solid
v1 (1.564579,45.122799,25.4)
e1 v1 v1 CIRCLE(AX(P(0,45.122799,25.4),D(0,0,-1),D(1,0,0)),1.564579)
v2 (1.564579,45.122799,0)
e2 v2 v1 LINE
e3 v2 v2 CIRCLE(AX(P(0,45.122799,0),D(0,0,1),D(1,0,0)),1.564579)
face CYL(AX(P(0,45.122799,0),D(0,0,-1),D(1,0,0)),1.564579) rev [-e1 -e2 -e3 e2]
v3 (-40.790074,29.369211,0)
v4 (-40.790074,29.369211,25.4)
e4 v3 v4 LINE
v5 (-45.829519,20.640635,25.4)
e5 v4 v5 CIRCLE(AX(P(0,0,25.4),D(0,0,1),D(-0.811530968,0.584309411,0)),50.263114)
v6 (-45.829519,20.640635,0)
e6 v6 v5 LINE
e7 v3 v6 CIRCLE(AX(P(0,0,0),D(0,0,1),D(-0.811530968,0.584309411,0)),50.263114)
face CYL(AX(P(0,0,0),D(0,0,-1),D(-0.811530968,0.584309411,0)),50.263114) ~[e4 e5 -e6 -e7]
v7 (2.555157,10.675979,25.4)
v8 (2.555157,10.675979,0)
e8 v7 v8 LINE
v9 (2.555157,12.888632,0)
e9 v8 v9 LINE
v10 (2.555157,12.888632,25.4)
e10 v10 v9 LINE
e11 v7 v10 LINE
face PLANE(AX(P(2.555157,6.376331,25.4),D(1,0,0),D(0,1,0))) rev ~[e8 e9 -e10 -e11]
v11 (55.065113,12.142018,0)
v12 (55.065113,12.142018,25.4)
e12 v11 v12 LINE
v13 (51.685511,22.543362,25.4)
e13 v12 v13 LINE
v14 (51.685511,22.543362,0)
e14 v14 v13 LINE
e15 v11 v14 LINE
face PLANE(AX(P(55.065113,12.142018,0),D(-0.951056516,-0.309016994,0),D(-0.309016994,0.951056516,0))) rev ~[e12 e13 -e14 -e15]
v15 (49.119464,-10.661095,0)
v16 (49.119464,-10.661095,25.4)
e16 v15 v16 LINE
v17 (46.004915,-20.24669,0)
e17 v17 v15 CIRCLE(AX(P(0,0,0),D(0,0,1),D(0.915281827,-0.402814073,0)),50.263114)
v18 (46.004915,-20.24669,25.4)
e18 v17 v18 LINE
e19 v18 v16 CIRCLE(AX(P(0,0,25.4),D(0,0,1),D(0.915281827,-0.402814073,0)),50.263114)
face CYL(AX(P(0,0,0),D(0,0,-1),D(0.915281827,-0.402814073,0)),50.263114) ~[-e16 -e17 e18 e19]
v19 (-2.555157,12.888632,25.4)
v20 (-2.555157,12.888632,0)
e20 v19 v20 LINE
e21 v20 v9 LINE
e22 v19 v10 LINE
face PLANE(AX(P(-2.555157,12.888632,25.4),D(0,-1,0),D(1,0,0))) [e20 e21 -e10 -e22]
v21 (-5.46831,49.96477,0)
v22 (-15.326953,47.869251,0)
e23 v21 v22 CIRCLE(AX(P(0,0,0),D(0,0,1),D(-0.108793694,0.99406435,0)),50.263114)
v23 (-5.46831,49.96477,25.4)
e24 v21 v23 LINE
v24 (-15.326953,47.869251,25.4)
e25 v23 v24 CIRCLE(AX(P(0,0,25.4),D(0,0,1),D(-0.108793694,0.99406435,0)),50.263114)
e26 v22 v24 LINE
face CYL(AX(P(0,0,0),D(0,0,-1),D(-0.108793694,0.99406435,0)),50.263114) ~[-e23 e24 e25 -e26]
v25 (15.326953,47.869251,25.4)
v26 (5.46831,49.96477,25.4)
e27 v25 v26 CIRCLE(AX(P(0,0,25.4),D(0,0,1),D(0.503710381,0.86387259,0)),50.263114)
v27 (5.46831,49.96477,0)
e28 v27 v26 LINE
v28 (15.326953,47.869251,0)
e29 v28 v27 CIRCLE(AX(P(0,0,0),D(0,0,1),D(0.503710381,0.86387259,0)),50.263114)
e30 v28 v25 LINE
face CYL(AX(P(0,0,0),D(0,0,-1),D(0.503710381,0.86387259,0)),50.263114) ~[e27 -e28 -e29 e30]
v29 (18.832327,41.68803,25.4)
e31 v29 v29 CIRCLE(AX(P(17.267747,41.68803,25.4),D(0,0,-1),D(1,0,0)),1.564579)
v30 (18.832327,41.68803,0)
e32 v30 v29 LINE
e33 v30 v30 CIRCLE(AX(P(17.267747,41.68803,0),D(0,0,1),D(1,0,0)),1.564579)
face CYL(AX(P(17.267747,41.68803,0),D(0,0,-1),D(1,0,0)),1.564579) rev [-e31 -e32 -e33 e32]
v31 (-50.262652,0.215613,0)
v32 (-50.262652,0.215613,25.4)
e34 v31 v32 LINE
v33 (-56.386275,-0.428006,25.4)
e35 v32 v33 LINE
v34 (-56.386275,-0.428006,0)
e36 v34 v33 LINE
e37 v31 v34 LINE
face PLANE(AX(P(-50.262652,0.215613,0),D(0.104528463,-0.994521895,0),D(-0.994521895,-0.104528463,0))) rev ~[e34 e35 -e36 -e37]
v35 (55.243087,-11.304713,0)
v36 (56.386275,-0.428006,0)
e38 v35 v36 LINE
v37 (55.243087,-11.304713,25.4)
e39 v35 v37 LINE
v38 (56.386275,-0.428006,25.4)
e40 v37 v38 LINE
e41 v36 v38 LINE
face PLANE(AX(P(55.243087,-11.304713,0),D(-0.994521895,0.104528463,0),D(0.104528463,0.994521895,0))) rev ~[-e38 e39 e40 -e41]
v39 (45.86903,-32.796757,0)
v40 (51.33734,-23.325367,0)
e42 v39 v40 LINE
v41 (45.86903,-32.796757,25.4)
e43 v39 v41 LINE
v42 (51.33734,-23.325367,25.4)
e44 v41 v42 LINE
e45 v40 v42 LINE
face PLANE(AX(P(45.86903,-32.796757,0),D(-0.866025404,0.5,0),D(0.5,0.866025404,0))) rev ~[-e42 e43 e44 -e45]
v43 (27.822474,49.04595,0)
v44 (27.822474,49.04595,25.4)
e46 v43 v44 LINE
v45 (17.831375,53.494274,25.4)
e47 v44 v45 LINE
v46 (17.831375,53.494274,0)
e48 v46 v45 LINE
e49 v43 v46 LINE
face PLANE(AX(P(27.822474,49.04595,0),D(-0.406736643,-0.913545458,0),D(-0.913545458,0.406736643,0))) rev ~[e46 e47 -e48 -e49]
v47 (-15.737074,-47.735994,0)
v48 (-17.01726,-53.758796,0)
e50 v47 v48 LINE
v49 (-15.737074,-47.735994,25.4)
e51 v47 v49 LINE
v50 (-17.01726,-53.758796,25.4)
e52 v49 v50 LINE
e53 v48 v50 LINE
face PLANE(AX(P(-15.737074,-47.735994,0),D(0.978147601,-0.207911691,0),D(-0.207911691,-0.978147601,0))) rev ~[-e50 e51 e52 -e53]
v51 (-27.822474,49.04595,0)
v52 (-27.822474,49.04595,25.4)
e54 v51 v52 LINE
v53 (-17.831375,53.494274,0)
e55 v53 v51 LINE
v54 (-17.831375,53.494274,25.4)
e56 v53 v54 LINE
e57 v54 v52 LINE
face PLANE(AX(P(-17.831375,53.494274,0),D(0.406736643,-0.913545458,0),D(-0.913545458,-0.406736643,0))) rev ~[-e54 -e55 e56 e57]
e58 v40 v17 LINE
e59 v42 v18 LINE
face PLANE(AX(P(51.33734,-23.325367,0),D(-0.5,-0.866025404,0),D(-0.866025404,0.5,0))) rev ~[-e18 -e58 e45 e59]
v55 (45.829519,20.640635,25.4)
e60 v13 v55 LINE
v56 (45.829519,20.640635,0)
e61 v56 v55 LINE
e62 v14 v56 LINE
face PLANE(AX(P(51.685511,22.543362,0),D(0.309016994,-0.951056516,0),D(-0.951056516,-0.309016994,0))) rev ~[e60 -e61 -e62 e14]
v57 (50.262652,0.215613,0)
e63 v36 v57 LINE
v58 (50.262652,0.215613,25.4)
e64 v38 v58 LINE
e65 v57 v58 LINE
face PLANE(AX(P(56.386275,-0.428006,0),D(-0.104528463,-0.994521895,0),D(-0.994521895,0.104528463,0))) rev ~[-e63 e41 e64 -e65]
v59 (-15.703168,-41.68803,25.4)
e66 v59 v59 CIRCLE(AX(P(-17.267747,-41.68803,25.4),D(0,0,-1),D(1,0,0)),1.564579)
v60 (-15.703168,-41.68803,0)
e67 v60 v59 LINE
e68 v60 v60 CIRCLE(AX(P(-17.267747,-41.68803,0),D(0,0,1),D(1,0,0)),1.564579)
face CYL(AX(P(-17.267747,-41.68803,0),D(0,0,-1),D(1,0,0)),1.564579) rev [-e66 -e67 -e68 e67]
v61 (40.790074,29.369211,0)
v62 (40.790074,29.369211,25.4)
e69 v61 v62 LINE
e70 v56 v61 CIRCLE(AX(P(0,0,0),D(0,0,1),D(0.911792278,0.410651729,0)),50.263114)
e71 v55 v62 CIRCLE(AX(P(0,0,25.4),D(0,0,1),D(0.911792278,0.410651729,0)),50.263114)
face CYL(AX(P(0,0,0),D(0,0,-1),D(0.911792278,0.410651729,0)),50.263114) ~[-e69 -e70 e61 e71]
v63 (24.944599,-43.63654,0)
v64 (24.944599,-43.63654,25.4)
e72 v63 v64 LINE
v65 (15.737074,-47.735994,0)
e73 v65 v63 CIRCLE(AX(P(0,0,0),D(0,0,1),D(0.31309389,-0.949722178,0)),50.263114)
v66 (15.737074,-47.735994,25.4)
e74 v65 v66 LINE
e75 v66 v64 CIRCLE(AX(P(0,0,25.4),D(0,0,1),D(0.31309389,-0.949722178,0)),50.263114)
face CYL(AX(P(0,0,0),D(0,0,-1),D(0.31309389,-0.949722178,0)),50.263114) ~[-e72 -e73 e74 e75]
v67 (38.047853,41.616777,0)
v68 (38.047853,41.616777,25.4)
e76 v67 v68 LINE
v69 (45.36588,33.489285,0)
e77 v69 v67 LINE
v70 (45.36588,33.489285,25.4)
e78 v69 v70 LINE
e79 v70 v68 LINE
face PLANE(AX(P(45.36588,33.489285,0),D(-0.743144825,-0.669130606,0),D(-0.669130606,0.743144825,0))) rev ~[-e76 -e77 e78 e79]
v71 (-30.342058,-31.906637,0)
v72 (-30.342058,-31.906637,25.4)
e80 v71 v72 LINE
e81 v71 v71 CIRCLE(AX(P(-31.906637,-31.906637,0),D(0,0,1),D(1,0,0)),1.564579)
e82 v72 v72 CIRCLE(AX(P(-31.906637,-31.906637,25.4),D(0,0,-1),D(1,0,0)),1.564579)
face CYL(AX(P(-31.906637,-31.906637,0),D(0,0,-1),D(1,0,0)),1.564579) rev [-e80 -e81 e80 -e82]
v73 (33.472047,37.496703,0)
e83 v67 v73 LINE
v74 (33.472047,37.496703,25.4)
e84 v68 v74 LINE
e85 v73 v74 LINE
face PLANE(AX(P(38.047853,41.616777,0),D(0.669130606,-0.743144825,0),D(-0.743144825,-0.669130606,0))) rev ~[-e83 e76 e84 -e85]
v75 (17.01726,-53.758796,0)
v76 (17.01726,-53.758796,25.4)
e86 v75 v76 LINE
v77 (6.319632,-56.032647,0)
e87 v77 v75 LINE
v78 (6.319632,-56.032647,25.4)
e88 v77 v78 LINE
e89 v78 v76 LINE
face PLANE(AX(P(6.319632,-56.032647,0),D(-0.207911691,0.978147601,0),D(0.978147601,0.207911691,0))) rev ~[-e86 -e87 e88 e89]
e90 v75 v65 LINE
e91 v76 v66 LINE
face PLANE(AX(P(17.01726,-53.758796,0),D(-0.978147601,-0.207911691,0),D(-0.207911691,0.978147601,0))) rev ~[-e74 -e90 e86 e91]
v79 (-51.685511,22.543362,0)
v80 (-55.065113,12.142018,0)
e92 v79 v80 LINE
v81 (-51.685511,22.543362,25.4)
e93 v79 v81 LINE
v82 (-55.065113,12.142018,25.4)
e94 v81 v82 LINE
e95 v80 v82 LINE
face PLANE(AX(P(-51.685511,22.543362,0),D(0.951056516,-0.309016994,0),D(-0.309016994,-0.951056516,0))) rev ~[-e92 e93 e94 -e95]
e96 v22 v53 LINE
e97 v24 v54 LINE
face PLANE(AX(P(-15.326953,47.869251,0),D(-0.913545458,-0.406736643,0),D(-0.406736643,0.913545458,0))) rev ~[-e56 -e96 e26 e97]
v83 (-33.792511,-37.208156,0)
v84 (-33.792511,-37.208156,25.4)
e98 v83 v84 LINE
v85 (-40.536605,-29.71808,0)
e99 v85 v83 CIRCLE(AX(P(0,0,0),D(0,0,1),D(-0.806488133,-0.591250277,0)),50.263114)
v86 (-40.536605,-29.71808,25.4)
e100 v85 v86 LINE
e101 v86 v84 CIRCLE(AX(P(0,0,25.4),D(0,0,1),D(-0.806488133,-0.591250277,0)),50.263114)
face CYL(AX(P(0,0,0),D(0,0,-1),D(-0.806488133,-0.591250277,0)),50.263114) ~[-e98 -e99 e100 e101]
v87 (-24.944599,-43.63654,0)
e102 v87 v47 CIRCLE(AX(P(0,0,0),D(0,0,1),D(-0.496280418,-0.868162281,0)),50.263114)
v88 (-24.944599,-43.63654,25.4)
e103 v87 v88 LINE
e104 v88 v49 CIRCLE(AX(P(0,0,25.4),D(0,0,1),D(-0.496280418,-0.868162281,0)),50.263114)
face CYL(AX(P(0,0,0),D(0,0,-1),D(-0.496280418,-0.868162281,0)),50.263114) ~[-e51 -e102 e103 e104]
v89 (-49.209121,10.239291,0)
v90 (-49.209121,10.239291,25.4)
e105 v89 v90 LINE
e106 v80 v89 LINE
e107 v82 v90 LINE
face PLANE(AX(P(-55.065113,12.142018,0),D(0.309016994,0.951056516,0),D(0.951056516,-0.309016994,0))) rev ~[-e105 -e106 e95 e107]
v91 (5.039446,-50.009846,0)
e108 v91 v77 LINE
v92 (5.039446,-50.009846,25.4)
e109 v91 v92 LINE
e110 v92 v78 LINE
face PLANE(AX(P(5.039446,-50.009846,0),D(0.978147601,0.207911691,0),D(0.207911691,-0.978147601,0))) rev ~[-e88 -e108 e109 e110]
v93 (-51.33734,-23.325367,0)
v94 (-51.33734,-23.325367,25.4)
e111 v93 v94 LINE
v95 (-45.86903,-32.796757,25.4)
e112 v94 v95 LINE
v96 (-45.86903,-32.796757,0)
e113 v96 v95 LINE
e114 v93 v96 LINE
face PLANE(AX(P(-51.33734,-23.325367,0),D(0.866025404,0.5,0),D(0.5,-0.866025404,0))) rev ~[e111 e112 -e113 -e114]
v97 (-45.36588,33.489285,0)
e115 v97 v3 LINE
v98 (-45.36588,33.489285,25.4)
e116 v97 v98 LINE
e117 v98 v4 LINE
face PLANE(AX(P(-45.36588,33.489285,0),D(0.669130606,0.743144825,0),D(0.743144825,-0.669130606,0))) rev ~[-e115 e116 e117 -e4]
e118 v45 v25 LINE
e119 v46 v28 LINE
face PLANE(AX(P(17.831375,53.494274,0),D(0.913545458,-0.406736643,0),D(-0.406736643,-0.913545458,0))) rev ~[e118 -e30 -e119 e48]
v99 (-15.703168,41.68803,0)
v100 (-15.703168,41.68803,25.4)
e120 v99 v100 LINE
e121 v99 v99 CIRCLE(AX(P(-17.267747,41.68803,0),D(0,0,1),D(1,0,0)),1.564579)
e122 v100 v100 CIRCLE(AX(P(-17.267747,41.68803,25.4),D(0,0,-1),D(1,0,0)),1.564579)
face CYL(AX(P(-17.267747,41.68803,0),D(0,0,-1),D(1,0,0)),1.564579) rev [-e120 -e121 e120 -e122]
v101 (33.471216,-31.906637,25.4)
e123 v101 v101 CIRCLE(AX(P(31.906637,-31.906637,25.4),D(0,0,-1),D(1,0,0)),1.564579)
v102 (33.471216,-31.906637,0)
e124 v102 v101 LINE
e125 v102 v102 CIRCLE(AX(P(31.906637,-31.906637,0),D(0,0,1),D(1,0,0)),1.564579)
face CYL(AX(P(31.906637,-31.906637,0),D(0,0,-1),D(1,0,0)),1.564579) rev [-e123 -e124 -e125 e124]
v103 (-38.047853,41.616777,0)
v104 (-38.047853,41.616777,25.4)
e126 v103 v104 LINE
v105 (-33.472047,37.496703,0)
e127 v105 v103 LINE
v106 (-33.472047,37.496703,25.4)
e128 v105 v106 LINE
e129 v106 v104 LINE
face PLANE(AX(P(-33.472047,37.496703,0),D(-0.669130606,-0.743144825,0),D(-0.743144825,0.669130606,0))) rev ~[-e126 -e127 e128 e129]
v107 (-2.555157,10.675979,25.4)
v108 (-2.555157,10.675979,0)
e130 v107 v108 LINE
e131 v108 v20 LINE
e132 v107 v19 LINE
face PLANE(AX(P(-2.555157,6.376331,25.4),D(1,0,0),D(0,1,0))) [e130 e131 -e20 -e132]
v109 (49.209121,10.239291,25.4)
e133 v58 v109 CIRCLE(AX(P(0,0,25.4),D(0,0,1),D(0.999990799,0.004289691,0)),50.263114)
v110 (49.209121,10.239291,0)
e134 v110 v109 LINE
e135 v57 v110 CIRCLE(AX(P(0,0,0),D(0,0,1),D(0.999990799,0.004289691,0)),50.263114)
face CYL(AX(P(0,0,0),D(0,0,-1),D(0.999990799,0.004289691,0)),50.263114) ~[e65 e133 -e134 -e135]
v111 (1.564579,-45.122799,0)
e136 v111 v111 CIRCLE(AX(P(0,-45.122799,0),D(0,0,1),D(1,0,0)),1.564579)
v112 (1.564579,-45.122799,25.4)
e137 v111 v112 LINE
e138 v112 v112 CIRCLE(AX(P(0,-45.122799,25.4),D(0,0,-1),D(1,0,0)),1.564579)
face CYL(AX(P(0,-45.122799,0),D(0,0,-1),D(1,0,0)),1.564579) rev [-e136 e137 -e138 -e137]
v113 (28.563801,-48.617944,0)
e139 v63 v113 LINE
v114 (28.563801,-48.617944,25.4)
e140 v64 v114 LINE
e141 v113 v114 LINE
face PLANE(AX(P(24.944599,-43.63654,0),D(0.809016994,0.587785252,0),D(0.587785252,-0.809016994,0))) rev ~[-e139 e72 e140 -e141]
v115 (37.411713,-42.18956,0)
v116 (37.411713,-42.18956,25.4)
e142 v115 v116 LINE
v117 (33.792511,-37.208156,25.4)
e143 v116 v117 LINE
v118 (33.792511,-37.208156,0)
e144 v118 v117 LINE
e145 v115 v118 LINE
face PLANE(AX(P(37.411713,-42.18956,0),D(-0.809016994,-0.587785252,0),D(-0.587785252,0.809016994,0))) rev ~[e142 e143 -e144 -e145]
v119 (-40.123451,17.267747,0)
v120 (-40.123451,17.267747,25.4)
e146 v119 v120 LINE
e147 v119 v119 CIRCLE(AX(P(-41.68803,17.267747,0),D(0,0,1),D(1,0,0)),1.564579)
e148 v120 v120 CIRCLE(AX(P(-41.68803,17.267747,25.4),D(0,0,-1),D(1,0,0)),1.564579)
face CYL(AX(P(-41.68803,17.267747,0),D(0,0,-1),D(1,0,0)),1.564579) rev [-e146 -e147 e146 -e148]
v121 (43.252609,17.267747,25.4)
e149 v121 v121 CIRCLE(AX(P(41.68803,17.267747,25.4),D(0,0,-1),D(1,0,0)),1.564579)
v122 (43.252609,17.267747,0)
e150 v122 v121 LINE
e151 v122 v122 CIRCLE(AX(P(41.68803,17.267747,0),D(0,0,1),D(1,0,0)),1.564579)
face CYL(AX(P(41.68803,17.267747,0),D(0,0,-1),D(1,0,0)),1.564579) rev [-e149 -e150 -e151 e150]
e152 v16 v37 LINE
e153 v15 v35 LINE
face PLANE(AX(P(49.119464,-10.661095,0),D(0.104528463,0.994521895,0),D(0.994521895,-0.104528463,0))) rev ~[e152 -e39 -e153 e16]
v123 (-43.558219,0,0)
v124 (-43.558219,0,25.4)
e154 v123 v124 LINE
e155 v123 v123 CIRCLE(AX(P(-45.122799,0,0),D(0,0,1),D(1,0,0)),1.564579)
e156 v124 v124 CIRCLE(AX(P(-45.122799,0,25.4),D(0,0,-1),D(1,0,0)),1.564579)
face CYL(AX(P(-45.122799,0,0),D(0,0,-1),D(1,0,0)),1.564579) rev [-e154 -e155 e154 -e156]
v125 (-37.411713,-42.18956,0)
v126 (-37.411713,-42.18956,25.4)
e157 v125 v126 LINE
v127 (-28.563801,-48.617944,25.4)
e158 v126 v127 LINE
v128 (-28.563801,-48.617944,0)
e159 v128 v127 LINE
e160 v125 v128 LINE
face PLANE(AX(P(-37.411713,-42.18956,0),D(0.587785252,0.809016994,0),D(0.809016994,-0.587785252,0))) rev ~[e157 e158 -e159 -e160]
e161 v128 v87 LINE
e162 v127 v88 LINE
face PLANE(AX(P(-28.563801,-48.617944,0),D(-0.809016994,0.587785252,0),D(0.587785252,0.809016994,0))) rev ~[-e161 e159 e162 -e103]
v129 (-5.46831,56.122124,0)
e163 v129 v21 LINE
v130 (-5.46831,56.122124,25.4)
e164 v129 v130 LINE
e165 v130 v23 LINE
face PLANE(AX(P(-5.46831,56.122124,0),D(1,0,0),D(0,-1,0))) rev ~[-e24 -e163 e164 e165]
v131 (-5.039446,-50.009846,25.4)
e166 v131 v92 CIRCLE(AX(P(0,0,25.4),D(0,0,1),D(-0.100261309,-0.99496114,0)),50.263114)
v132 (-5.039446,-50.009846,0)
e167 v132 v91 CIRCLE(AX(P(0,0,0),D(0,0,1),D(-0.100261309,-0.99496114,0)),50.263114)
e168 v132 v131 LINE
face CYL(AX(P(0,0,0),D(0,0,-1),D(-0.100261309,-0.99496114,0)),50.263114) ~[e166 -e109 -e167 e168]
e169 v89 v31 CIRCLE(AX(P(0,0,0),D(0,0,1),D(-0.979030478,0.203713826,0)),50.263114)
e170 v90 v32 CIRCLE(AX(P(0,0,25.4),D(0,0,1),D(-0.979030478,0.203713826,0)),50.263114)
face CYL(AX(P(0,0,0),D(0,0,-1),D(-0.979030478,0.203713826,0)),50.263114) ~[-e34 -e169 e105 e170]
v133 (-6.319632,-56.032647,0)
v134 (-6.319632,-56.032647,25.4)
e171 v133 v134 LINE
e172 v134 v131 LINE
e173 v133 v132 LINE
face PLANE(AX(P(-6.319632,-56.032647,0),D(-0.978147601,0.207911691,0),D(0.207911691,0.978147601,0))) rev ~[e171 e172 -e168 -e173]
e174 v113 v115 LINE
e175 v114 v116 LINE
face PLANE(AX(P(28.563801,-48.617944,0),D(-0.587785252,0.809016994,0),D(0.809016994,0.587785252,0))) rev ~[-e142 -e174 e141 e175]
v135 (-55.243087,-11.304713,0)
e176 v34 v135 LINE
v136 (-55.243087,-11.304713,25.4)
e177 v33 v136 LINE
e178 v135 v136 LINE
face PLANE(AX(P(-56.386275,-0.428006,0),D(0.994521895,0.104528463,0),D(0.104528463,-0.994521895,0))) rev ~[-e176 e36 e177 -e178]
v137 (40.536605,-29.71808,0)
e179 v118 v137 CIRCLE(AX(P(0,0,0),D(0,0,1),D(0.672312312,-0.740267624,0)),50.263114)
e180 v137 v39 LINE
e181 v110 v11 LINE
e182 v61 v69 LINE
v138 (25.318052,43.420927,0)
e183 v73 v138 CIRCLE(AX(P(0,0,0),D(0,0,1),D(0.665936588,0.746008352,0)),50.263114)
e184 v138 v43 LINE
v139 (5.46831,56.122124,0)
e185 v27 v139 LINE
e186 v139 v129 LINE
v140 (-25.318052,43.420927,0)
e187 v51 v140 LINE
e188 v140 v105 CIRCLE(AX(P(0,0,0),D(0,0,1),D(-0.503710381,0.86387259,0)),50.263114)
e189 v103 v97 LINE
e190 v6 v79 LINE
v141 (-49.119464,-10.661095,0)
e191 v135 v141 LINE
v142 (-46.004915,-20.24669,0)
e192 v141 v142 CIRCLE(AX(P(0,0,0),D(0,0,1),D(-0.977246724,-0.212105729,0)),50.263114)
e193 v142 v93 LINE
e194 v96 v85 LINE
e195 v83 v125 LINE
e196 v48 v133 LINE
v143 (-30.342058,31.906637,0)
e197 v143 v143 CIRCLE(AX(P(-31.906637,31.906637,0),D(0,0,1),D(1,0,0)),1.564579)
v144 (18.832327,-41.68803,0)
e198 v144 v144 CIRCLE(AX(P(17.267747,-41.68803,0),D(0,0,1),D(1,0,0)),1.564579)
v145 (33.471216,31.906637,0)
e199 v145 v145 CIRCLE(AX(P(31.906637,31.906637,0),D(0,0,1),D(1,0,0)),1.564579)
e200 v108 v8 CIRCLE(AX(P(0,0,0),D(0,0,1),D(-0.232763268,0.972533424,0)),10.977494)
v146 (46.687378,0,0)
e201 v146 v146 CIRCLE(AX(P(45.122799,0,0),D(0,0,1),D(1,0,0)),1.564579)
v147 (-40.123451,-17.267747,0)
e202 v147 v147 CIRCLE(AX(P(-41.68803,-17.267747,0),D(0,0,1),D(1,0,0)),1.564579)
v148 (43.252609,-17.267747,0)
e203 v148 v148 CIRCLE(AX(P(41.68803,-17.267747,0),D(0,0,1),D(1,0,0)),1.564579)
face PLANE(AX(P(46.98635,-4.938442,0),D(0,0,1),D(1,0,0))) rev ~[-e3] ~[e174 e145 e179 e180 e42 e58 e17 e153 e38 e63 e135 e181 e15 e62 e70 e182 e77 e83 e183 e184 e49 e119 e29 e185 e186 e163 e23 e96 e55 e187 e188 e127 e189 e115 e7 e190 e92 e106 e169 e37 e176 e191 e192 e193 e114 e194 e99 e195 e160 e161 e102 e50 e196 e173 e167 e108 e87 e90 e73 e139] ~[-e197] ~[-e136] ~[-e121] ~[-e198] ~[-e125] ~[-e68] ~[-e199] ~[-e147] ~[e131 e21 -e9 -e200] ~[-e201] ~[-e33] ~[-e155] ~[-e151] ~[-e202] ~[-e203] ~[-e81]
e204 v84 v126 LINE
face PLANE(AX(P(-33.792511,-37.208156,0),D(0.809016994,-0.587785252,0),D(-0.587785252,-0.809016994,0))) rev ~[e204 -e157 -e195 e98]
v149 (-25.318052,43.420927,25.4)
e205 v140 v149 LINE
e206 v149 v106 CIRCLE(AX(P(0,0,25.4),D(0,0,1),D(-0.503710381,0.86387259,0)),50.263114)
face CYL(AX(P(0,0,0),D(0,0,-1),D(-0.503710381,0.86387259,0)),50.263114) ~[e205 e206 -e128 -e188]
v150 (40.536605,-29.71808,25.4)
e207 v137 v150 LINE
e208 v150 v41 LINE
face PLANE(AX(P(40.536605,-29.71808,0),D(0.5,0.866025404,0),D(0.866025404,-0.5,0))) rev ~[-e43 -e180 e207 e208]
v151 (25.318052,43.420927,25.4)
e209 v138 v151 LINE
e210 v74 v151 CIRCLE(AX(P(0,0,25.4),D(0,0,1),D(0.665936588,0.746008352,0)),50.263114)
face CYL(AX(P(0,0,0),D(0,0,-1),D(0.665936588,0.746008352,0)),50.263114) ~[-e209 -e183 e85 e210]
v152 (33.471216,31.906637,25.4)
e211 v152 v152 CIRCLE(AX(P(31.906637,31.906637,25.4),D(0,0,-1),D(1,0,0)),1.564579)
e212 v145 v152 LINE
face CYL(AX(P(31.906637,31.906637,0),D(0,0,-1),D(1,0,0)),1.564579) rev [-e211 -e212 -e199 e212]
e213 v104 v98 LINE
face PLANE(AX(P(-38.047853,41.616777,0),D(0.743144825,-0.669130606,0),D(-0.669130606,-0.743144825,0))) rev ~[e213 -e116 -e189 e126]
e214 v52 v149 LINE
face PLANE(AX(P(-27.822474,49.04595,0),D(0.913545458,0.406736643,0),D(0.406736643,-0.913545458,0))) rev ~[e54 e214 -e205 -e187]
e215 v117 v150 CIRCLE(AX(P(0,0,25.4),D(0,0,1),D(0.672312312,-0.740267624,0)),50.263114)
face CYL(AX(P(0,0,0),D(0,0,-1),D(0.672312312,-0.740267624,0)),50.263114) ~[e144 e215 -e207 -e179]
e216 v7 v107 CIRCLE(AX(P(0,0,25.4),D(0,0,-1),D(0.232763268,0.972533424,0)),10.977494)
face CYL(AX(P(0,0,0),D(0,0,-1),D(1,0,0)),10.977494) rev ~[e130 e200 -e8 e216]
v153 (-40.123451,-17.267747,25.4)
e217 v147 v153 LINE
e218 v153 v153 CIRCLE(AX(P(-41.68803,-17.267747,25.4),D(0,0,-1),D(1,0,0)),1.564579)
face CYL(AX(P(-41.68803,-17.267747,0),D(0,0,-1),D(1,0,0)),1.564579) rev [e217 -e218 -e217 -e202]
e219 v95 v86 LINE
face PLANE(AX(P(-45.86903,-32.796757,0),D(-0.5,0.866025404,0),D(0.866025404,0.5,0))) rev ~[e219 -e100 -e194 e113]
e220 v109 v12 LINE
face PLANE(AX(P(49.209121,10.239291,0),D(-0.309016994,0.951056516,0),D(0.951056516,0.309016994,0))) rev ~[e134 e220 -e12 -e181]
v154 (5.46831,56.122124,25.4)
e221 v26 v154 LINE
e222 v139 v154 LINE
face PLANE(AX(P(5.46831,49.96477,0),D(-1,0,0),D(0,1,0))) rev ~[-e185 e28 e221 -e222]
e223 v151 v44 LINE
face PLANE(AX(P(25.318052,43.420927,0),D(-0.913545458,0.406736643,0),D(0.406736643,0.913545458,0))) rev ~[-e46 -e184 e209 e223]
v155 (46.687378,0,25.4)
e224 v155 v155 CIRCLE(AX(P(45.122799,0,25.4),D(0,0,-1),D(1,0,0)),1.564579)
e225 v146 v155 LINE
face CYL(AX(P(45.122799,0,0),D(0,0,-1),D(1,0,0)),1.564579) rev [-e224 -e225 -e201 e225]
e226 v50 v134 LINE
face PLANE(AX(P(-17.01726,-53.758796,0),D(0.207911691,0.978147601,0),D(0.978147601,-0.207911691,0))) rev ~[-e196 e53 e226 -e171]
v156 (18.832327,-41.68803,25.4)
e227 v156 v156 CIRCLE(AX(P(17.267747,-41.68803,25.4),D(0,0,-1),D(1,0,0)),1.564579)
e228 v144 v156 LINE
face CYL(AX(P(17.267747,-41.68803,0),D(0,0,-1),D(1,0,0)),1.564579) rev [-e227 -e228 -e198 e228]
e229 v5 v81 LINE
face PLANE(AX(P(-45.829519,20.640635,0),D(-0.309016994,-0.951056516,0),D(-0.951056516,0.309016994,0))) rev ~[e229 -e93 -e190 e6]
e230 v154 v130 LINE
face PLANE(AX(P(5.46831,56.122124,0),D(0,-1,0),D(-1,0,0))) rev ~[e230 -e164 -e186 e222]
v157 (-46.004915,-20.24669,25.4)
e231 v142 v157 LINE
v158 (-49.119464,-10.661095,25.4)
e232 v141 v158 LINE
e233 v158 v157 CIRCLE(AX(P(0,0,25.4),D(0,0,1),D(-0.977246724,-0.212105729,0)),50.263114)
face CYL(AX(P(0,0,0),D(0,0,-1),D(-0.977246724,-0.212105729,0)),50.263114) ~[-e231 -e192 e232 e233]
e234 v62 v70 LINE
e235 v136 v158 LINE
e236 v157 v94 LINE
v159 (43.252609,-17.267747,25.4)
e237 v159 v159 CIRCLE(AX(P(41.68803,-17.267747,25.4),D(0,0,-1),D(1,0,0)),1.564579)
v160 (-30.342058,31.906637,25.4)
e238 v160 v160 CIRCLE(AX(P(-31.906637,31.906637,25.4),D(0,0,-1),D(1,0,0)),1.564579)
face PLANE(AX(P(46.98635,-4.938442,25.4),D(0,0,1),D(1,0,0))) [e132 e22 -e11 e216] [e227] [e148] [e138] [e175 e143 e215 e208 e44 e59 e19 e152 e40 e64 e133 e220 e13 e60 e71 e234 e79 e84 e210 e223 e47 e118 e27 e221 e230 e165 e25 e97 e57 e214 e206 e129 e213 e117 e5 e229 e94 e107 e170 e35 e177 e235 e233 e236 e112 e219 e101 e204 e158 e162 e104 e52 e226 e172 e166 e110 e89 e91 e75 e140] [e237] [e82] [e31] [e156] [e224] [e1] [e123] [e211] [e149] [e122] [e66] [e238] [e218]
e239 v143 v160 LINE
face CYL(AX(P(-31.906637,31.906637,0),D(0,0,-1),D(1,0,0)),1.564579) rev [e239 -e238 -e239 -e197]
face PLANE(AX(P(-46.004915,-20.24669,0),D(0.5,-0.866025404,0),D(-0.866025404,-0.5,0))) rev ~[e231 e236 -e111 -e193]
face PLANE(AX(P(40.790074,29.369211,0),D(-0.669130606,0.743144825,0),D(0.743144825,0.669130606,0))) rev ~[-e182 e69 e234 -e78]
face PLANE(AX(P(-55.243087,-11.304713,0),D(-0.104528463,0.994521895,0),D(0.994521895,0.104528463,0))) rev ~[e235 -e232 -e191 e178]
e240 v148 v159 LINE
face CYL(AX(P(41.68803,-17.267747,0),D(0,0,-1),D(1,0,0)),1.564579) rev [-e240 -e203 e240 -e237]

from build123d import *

# Parameters (mm, degrees)
F1_DEPTH = 25.4
F2_R     = 10.9774936207
F3_DEPTH = 49.53
F4_W     = 5.1103145815
F4_H     = 6.5123010427
F5_DEPTH = 48.514
F6_R     = 1.5645792589
F7_DEPTH = 173.3340956271


with BuildPart() as f1:
    # F0 (on Top) → F1 (new body)
    with BuildSketch(Plane.XY):
        with BuildLine():
            ThreePointArc((49.1194638074, -10.6610945165), (49.976383851, -5.3611303095), (50.2631143187, 0))
            ThreePointArc((50.2631143187, 0), (50.2629987037, 0.1078068731), (50.2626518594, 0.2156132503))
            Line((50.2626518594, 0.2156132503), (44.7324481381, 0.7968610833))
            Line((44.7324481381, 0.7968610833), (43.5892600861, -10.0798466835))
            Line((43.5892600861, -10.0798466835), (49.1194638074, -10.6610945165))
        make_face()
        with BuildLine():
            ThreePointArc((50.2626518594, 0.2156132503), (50.2629987037, 0.1078068731), (50.2631143187, 0))
            ThreePointArc((50.2631143187, 0), (49.976383851, -5.3611303095), (49.1194638074, -10.6610945165))
            Line((49.1194638074, -10.6610945165), (55.2430873006, -11.3047132808))
            Line((55.2430873006, -11.3047132808), (56.3862753526, -0.428005514))
            Line((56.3862753526, -0.428005514), (50.2626518594, 0.2156132503))
        make_face()
        with BuildLine():
            Line((44.7324481381, 0.7968610833), (50.2626518594, 0.2156132503))
            ThreePointArc((50.2626518594, 0.2156132503), (49.9877677193, 5.2539260988), (49.2091208382, 10.2392913496))
            Line((49.2091208382, 10.2392913496), (43.9206135564, 8.5209511701))
            Line((43.9206135564, 8.5209511701), (40.5410122038, 18.9222946152))
            Line((40.5410122038, 18.9222946152), (45.8295194856, 20.6406347948))
            ThreePointArc((45.8295194856, 20.6406347948), (43.5291338733, 25.1315571593), (40.7900738253, 29.3692107204))
            Line((40.7900738253, 29.3692107204), (36.6576939366, 25.648399156))
            Line((36.6576939366, 25.648399156), (29.3396669559, 33.7758915046))
            Line((29.3396669559, 33.7758915046), (33.4720468446, 37.496703069))
            ThreePointArc((33.4720468446, 37.496703069), (29.5439173308, 40.663713674), (25.3180524818, 43.4209267467))
            Line((25.3180524818, 43.4209267467), (23.0563260104, 38.3410059194))
            Line((23.0563260104, 38.3410059194), (13.0652267488, 42.7893299085))
            Line((13.0652267488, 42.7893299085), (15.3269532202, 47.8692507357))
            ThreePointArc((15.3269532202, 47.8692507357), (10.4502890838, 49.1647446762), (5.468309857, 49.9647700717))
            Line((5.468309857, 49.9647700717), (5.468309857, 44.4041044423))
            Line((5.468309857, 44.4041044423), (-5.468309857, 44.4041044423))
            Line((-5.468309857, 44.4041044423), (-5.468309857, 49.9647700717))
            ThreePointArc((-5.468309857, 49.9647700717), (-10.4502890838, 49.1647446762), (-15.3269532202, 47.8692507357))
            Line((-15.3269532202, 47.8692507357), (-13.0652267488, 42.7893299085))
            Line((-13.0652267488, 42.7893299085), (-23.0563260104, 38.3410059194))
            Line((-23.0563260104, 38.3410059194), (-25.3180524818, 43.4209267467))
            ThreePointArc((-25.3180524818, 43.4209267467), (-29.5439173308, 40.663713674), (-33.4720468446, 37.496703069))
            Line((-33.4720468446, 37.496703069), (-29.3396669559, 33.7758915046))
            Line((-29.3396669559, 33.7758915046), (-36.6576939366, 25.648399156))
            Line((-36.6576939366, 25.648399156), (-40.7900738253, 29.3692107204))
            ThreePointArc((-40.7900738253, 29.3692107204), (-43.5291338733, 25.1315571593), (-45.8295194856, 20.6406347948))
            Line((-45.8295194856, 20.6406347948), (-40.5410122038, 18.9222946152))
            Line((-40.5410122038, 18.9222946152), (-43.9206135564, 8.5209511701))
            Line((-43.9206135564, 8.5209511701), (-49.2091208382, 10.2392913496))
            ThreePointArc((-49.2091208382, 10.2392913496), (-49.9877677193, 5.2539260988), (-50.2626518594, 0.2156132503))
            Line((-50.2626518594, 0.2156132503), (-44.7324481381, 0.7968610833))
            Line((-44.7324481381, 0.7968610833), (-43.5892600861, -10.0798466835))
            Line((-43.5892600861, -10.0798466835), (-49.1194638074, -10.6610945165))
            ThreePointArc((-49.1194638074, -10.6610945165), (-47.8030624021, -15.5321565147), (-46.0049151049, -20.246689784))
            Line((-46.0049151049, -20.246689784), (-41.1892374078, -17.4663569693))
            Line((-41.1892374078, -17.4663569693), (-35.7209275508, -26.937747473))
            Line((-35.7209275508, -26.937747473), (-40.5366052479, -29.7180802878))
            ThreePointArc((-40.5366052479, -29.7180802878), (-37.3527733183, -33.6325881616), (-33.7925105871, -37.2081562192))
            Line((-33.7925105871, -37.2081562192), (-30.5240333372, -32.7094832249))
            Line((-30.5240333372, -32.7094832249), (-21.6761221277, -39.1378670027))
            Line((-21.6761221277, -39.1378670027), (-24.9445993776, -43.636539997))
            ThreePointArc((-24.9445993776, -43.636539997), (-20.4438503885, -45.9176397728), (-15.7370739936, -47.7359944186))
            Line((-15.7370739936, -47.7359944186), (-14.5809466005, -42.2968426747))
            Line((-14.5809466005, -42.2968426747), (-3.8833182672, -44.5706937712))
            Line((-3.8833182672, -44.5706937712), (-5.0394456603, -50.0098455152))
            ThreePointArc((-5.0394456603, -50.0098455152), (0, -50.2631143187), (5.0394456603, -50.0098455152))
            Line((5.0394456603, -50.0098455152), (3.8833182672, -44.5706937712))
            Line((3.8833182672, -44.5706937712), (14.5809466005, -42.2968426747))
            Line((14.5809466005, -42.2968426747), (15.7370739936, -47.7359944186))
            ThreePointArc((15.7370739936, -47.7359944186), (20.4438503885, -45.9176397728), (24.9445993776, -43.636539997))
            Line((24.9445993776, -43.636539997), (21.6761221277, -39.1378670027))
            Line((21.6761221277, -39.1378670027), (30.5240333372, -32.7094832249))
            Line((30.5240333372, -32.7094832249), (33.7925105871, -37.2081562192))
            ThreePointArc((33.7925105871, -37.2081562192), (37.3527733183, -33.6325881616), (40.5366052479, -29.7180802878))
            Line((40.5366052479, -29.7180802878), (35.7209275508, -26.937747473))
            Line((35.7209275508, -26.937747473), (41.1892374078, -17.4663569693))
            Line((41.1892374078, -17.4663569693), (46.0049151049, -20.246689784))
            ThreePointArc((46.0049151049, -20.246689784), (47.8030624021, -15.5321565147), (49.1194638074, -10.6610945165))
            Line((49.1194638074, -10.6610945165), (43.5892600861, -10.0798466835))
            Line((43.5892600861, -10.0798466835), (44.7324481381, 0.7968610833))
        make_face()
        with BuildLine():
            Line((43.9206135564, 8.5209511701), (49.2091208382, 10.2392913496))
            ThreePointArc((49.2091208382, 10.2392913496), (47.8030624021, 15.5321565147), (45.8295194856, 20.6406347948))
            Line((45.8295194856, 20.6406347948), (40.5410122038, 18.9222946152))
            Line((40.5410122038, 18.9222946152), (43.9206135564, 8.5209511701))
        make_face()
        with BuildLine():
            ThreePointArc((45.8295194856, 20.6406347948), (47.8030624021, 15.5321565147), (49.2091208382, 10.2392913496))
            Line((49.2091208382, 10.2392913496), (55.0651126004, 12.1420184141))
            Line((55.0651126004, 12.1420184141), (51.6855112478, 22.5433618593))
            Line((51.6855112478, 22.5433618593), (45.8295194856, 20.6406347948))
        make_face()
        with BuildLine():
            Line((51.3373401958, -23.3253668457), (46.0049151049, -20.246689784))
            ThreePointArc((46.0049151049, -20.246689784), (43.5291338733, -25.1315571593), (40.5366052479, -29.7180802878))
            Line((40.5366052479, -29.7180802878), (45.8690303388, -32.7967573494))
            Line((45.8690303388, -32.7967573494), (51.3373401958, -23.3253668457))
        make_face()
        with BuildLine():
            ThreePointArc((40.5366052479, -29.7180802878), (43.5291338733, -25.1315571593), (46.0049151049, -20.246689784))
            Line((46.0049151049, -20.246689784), (41.1892374078, -17.4663569693))
            Line((41.1892374078, -17.4663569693), (35.7209275508, -26.937747473))
            Line((35.7209275508, -26.937747473), (40.5366052479, -29.7180802878))
        make_face()
        with BuildLine():
            Line((36.6576939366, 25.648399156), (40.7900738253, 29.3692107204))
            ThreePointArc((40.7900738253, 29.3692107204), (37.3527733183, 33.6325881616), (33.4720468446, 37.496703069))
            Line((33.4720468446, 37.496703069), (29.3396669559, 33.7758915046))
            Line((29.3396669559, 33.7758915046), (36.6576939366, 25.648399156))
        make_face()
        with BuildLine():
            ThreePointArc((33.4720468446, 37.496703069), (37.3527733183, 33.6325881616), (40.7900738253, 29.3692107204))
            Line((40.7900738253, 29.3692107204), (45.3658796807, 33.4892848185))
            Line((45.3658796807, 33.4892848185), (38.0478527, 41.6167771671))
            Line((38.0478527, 41.6167771671), (33.4720468446, 37.496703069))
        make_face()
        with BuildLine():
            Line((37.411712534, -42.1895603454), (33.7925105871, -37.2081562192))
            ThreePointArc((33.7925105871, -37.2081562192), (29.5439173308, -40.663713674), (24.9445993776, -43.636539997))
            Line((24.9445993776, -43.636539997), (28.5638013244, -48.6179441231))
            Line((28.5638013244, -48.6179441231), (37.411712534, -42.1895603454))
        make_face()
        with BuildLine():
            ThreePointArc((24.9445993776, -43.636539997), (29.5439173308, -40.663713674), (33.7925105871, -37.2081562192))
            Line((33.7925105871, -37.2081562192), (30.5240333372, -32.7094832249))
            Line((30.5240333372, -32.7094832249), (21.6761221277, -39.1378670027))
            Line((21.6761221277, -39.1378670027), (24.9445993776, -43.636539997))
        make_face()
        with BuildLine():
            Line((23.0563260104, 38.3410059194), (25.3180524818, 43.4209267467))
            ThreePointArc((25.3180524818, 43.4209267467), (20.4438503885, 45.9176397728), (15.3269532202, 47.8692507357))
            Line((15.3269532202, 47.8692507357), (13.0652267488, 42.7893299085))
            Line((13.0652267488, 42.7893299085), (23.0563260104, 38.3410059194))
        make_face()
        with BuildLine():
            ThreePointArc((15.3269532202, 47.8692507357), (20.4438503885, 45.9176397728), (25.3180524818, 43.4209267467))
            Line((25.3180524818, 43.4209267467), (27.8224740282, 49.0459496372))
            Line((27.8224740282, 49.0459496372), (17.8313747666, 53.4942736262))
            Line((17.8313747666, 53.4942736262), (15.3269532202, 47.8692507357))
        make_face()
        with BuildLine():
            Line((17.0172599003, -53.7587955812), (15.7370739936, -47.7359944186))
            ThreePointArc((15.7370739936, -47.7359944186), (10.4502890838, -49.1647446762), (5.0394456603, -50.0098455152))
            Line((5.0394456603, -50.0098455152), (6.319631567, -56.0326466778))
            Line((6.319631567, -56.0326466778), (17.0172599003, -53.7587955812))
        make_face()
        with BuildLine():
            ThreePointArc((5.0394456603, -50.0098455152), (10.4502890838, -49.1647446762), (15.7370739936, -47.7359944186))
            Line((15.7370739936, -47.7359944186), (14.5809466005, -42.2968426747))
            Line((14.5809466005, -42.2968426747), (3.8833182672, -44.5706937712))
            Line((3.8833182672, -44.5706937712), (5.0394456603, -50.0098455152))
        make_face()
        with BuildLine():
            Line((5.468309857, 44.4041044423), (5.468309857, 49.9647700717))
            ThreePointArc((5.468309857, 49.9647700717), (0, 50.2631143187), (-5.468309857, 49.9647700717))
            Line((-5.468309857, 49.9647700717), (-5.468309857, 44.4041044423))
            Line((-5.468309857, 44.4041044423), (5.468309857, 44.4041044423))
        make_face()
        with BuildLine():
            ThreePointArc((-5.468309857, 49.9647700717), (0, 50.2631143187), (5.468309857, 49.9647700717))
            Line((5.468309857, 49.9647700717), (5.468309857, 56.1221241951))
            Line((5.468309857, 56.1221241951), (-5.468309857, 56.1221241951))
            Line((-5.468309857, 56.1221241951), (-5.468309857, 49.9647700717))
        make_face()
        with BuildLine():
            Line((-6.319631567, -56.0326466778), (-5.0394456603, -50.0098455152))
            ThreePointArc((-5.0394456603, -50.0098455152), (-10.4502890838, -49.1647446762), (-15.7370739936, -47.7359944186))
            Line((-15.7370739936, -47.7359944186), (-17.0172599003, -53.7587955812))
            Line((-17.0172599003, -53.7587955812), (-6.319631567, -56.0326466778))
        make_face()
        with BuildLine():
            ThreePointArc((-15.7370739936, -47.7359944186), (-10.4502890838, -49.1647446762), (-5.0394456603, -50.0098455152))
            Line((-5.0394456603, -50.0098455152), (-3.8833182672, -44.5706937712))
            Line((-3.8833182672, -44.5706937712), (-14.5809466005, -42.2968426747))
            Line((-14.5809466005, -42.2968426747), (-15.7370739936, -47.7359944186))
        make_face()
        with BuildLine():
            Line((-13.0652267488, 42.7893299085), (-15.3269532202, 47.8692507357))
            ThreePointArc((-15.3269532202, 47.8692507357), (-20.4438503885, 45.9176397728), (-25.3180524818, 43.4209267467))
            Line((-25.3180524818, 43.4209267467), (-23.0563260104, 38.3410059194))
            Line((-23.0563260104, 38.3410059194), (-13.0652267488, 42.7893299085))
        make_face()
        with BuildLine():
            ThreePointArc((-25.3180524818, 43.4209267467), (-20.4438503885, 45.9176397728), (-15.3269532202, 47.8692507357))
            Line((-15.3269532202, 47.8692507357), (-17.8313747666, 53.4942736262))
            Line((-17.8313747666, 53.4942736262), (-27.8224740282, 49.0459496372))
            Line((-27.8224740282, 49.0459496372), (-25.3180524818, 43.4209267467))
        make_face()
        with BuildLine():
            Line((-28.5638013244, -48.6179441231), (-24.9445993776, -43.636539997))
            ThreePointArc((-24.9445993776, -43.636539997), (-29.5439173308, -40.663713674), (-33.7925105871, -37.2081562192))
            Line((-33.7925105871, -37.2081562192), (-37.411712534, -42.1895603454))
            Line((-37.411712534, -42.1895603454), (-28.5638013244, -48.6179441231))
        make_face()
        with BuildLine():
            ThreePointArc((-33.7925105871, -37.2081562192), (-29.5439173308, -40.663713674), (-24.9445993776, -43.636539997))
            Line((-24.9445993776, -43.636539997), (-21.6761221277, -39.1378670027))
            Line((-21.6761221277, -39.1378670027), (-30.5240333372, -32.7094832249))
            Line((-30.5240333372, -32.7094832249), (-33.7925105871, -37.2081562192))
        make_face()
        with BuildLine():
            Line((-29.3396669559, 33.7758915046), (-33.4720468446, 37.496703069))
            ThreePointArc((-33.4720468446, 37.496703069), (-37.3527733183, 33.6325881616), (-40.7900738253, 29.3692107204))
            Line((-40.7900738253, 29.3692107204), (-36.6576939366, 25.648399156))
            Line((-36.6576939366, 25.648399156), (-29.3396669559, 33.7758915046))
        make_face()
        with BuildLine():
            ThreePointArc((-40.7900738253, 29.3692107204), (-37.3527733183, 33.6325881616), (-33.4720468446, 37.496703069))
            Line((-33.4720468446, 37.496703069), (-38.0478527, 41.6167771671))
            Line((-38.0478527, 41.6167771671), (-45.3658796807, 33.4892848185))
            Line((-45.3658796807, 33.4892848185), (-40.7900738253, 29.3692107204))
        make_face()
        with BuildLine():
            Line((-45.8690303388, -32.7967573494), (-40.5366052479, -29.7180802878))
            ThreePointArc((-40.5366052479, -29.7180802878), (-43.5291338733, -25.1315571593), (-46.0049151049, -20.246689784))
            Line((-46.0049151049, -20.246689784), (-51.3373401958, -23.3253668457))
            Line((-51.3373401958, -23.3253668457), (-45.8690303388, -32.7967573494))
        make_face()
        with BuildLine():
            ThreePointArc((-46.0049151049, -20.246689784), (-43.5291338733, -25.1315571593), (-40.5366052479, -29.7180802878))
            Line((-40.5366052479, -29.7180802878), (-35.7209275508, -26.937747473))
            Line((-35.7209275508, -26.937747473), (-41.1892374078, -17.4663569693))
            Line((-41.1892374078, -17.4663569693), (-46.0049151049, -20.246689784))
        make_face()
        with BuildLine():
            Line((-40.5410122038, 18.9222946152), (-45.8295194856, 20.6406347948))
            ThreePointArc((-45.8295194856, 20.6406347948), (-47.8030624021, 15.5321565147), (-49.2091208382, 10.2392913496))
            Line((-49.2091208382, 10.2392913496), (-43.9206135564, 8.5209511701))
            Line((-43.9206135564, 8.5209511701), (-40.5410122038, 18.9222946152))
        make_face()
        with BuildLine():
            ThreePointArc((-49.2091208382, 10.2392913496), (-47.8030624021, 15.5321565147), (-45.8295194856, 20.6406347948))
            Line((-45.8295194856, 20.6406347948), (-51.6855112478, 22.5433618593))
            Line((-51.6855112478, 22.5433618593), (-55.0651126004, 12.1420184141))
            Line((-55.0651126004, 12.1420184141), (-49.2091208382, 10.2392913496))
        make_face()
        with BuildLine():
            Line((-55.2430873006, -11.3047132808), (-49.1194638074, -10.6610945165))
            ThreePointArc((-49.1194638074, -10.6610945165), (-49.9877677193, -5.2539260988), (-50.2626518594, 0.2156132503))
            Line((-50.2626518594, 0.2156132503), (-56.3862753526, -0.428005514))
            Line((-56.3862753526, -0.428005514), (-55.2430873006, -11.3047132808))
        make_face()
        with BuildLine():
            ThreePointArc((-50.2626518594, 0.2156132503), (-49.9877677193, -5.2539260988), (-49.1194638074, -10.6610945165))
            Line((-49.1194638074, -10.6610945165), (-43.5892600861, -10.0798466835))
            Line((-43.5892600861, -10.0798466835), (-44.7324481381, 0.7968610833))
            Line((-44.7324481381, 0.7968610833), (-50.2626518594, 0.2156132503))
        make_face()
    extrude(amount=F1_DEPTH)

    # F2 (on face) → F3 (cut)
    with BuildSketch(Plane(origin=(0, 0, 0), x_dir=(1, 0, 0), z_dir=(0, 0, -1))):
        Circle(F2_R)
    extrude(amount=-F3_DEPTH, mode=Mode.SUBTRACT)

    # F4 (on face) → F5 (cut)
    with BuildSketch(Plane.XY.offset(25.4)):
        with Locations((0, 9.6324812621)):
            Rectangle(F4_W, F4_H)
    extrude(amount=-F5_DEPTH, mode=Mode.SUBTRACT)

    # F6 (on Top) → F7 (cut)
    with BuildSketch(Plane.XY):
        with Locations((0, 45.1227985322)):
            Circle(F6_R)
        with Locations((-17.2677474202, 41.6880300136)):
            Circle(F6_R)
        with Locations((-31.9066368283, 31.9066368283)):
            Circle(F6_R)
        with Locations((-41.6880300136, 17.2677474202)):
            Circle(F6_R)
        with Locations((-45.1227985322, 0)):
            Circle(F6_R)
        with Locations((-41.6880300136, -17.2677474202)):
            Circle(F6_R)
        with Locations((-31.9066368283, -31.9066368283)):
            Circle(F6_R)
        with Locations((-17.2677474202, -41.6880300136)):
            Circle(F6_R)
        with Locations((0, -45.1227985322)):
            Circle(F6_R)
        with Locations((17.2677474202, -41.6880300136)):
            Circle(F6_R)
        with Locations((31.9066368283, -31.9066368283)):
            Circle(F6_R)
        with Locations((41.6880300136, -17.2677474202)):
            Circle(F6_R)
        with Locations((45.1227985322, 0)):
            Circle(F6_R)
        with Locations((41.6880300136, 17.2677474202)):
            Circle(F6_R)
        with Locations((31.9066368283, 31.9066368283)):
            Circle(F6_R)
        with Locations((17.2677474202, 41.6880300136)):
            Circle(F6_R)
    extrude(amount=F7_DEPTH, mode=Mode.SUBTRACT)


solid = f1.part
